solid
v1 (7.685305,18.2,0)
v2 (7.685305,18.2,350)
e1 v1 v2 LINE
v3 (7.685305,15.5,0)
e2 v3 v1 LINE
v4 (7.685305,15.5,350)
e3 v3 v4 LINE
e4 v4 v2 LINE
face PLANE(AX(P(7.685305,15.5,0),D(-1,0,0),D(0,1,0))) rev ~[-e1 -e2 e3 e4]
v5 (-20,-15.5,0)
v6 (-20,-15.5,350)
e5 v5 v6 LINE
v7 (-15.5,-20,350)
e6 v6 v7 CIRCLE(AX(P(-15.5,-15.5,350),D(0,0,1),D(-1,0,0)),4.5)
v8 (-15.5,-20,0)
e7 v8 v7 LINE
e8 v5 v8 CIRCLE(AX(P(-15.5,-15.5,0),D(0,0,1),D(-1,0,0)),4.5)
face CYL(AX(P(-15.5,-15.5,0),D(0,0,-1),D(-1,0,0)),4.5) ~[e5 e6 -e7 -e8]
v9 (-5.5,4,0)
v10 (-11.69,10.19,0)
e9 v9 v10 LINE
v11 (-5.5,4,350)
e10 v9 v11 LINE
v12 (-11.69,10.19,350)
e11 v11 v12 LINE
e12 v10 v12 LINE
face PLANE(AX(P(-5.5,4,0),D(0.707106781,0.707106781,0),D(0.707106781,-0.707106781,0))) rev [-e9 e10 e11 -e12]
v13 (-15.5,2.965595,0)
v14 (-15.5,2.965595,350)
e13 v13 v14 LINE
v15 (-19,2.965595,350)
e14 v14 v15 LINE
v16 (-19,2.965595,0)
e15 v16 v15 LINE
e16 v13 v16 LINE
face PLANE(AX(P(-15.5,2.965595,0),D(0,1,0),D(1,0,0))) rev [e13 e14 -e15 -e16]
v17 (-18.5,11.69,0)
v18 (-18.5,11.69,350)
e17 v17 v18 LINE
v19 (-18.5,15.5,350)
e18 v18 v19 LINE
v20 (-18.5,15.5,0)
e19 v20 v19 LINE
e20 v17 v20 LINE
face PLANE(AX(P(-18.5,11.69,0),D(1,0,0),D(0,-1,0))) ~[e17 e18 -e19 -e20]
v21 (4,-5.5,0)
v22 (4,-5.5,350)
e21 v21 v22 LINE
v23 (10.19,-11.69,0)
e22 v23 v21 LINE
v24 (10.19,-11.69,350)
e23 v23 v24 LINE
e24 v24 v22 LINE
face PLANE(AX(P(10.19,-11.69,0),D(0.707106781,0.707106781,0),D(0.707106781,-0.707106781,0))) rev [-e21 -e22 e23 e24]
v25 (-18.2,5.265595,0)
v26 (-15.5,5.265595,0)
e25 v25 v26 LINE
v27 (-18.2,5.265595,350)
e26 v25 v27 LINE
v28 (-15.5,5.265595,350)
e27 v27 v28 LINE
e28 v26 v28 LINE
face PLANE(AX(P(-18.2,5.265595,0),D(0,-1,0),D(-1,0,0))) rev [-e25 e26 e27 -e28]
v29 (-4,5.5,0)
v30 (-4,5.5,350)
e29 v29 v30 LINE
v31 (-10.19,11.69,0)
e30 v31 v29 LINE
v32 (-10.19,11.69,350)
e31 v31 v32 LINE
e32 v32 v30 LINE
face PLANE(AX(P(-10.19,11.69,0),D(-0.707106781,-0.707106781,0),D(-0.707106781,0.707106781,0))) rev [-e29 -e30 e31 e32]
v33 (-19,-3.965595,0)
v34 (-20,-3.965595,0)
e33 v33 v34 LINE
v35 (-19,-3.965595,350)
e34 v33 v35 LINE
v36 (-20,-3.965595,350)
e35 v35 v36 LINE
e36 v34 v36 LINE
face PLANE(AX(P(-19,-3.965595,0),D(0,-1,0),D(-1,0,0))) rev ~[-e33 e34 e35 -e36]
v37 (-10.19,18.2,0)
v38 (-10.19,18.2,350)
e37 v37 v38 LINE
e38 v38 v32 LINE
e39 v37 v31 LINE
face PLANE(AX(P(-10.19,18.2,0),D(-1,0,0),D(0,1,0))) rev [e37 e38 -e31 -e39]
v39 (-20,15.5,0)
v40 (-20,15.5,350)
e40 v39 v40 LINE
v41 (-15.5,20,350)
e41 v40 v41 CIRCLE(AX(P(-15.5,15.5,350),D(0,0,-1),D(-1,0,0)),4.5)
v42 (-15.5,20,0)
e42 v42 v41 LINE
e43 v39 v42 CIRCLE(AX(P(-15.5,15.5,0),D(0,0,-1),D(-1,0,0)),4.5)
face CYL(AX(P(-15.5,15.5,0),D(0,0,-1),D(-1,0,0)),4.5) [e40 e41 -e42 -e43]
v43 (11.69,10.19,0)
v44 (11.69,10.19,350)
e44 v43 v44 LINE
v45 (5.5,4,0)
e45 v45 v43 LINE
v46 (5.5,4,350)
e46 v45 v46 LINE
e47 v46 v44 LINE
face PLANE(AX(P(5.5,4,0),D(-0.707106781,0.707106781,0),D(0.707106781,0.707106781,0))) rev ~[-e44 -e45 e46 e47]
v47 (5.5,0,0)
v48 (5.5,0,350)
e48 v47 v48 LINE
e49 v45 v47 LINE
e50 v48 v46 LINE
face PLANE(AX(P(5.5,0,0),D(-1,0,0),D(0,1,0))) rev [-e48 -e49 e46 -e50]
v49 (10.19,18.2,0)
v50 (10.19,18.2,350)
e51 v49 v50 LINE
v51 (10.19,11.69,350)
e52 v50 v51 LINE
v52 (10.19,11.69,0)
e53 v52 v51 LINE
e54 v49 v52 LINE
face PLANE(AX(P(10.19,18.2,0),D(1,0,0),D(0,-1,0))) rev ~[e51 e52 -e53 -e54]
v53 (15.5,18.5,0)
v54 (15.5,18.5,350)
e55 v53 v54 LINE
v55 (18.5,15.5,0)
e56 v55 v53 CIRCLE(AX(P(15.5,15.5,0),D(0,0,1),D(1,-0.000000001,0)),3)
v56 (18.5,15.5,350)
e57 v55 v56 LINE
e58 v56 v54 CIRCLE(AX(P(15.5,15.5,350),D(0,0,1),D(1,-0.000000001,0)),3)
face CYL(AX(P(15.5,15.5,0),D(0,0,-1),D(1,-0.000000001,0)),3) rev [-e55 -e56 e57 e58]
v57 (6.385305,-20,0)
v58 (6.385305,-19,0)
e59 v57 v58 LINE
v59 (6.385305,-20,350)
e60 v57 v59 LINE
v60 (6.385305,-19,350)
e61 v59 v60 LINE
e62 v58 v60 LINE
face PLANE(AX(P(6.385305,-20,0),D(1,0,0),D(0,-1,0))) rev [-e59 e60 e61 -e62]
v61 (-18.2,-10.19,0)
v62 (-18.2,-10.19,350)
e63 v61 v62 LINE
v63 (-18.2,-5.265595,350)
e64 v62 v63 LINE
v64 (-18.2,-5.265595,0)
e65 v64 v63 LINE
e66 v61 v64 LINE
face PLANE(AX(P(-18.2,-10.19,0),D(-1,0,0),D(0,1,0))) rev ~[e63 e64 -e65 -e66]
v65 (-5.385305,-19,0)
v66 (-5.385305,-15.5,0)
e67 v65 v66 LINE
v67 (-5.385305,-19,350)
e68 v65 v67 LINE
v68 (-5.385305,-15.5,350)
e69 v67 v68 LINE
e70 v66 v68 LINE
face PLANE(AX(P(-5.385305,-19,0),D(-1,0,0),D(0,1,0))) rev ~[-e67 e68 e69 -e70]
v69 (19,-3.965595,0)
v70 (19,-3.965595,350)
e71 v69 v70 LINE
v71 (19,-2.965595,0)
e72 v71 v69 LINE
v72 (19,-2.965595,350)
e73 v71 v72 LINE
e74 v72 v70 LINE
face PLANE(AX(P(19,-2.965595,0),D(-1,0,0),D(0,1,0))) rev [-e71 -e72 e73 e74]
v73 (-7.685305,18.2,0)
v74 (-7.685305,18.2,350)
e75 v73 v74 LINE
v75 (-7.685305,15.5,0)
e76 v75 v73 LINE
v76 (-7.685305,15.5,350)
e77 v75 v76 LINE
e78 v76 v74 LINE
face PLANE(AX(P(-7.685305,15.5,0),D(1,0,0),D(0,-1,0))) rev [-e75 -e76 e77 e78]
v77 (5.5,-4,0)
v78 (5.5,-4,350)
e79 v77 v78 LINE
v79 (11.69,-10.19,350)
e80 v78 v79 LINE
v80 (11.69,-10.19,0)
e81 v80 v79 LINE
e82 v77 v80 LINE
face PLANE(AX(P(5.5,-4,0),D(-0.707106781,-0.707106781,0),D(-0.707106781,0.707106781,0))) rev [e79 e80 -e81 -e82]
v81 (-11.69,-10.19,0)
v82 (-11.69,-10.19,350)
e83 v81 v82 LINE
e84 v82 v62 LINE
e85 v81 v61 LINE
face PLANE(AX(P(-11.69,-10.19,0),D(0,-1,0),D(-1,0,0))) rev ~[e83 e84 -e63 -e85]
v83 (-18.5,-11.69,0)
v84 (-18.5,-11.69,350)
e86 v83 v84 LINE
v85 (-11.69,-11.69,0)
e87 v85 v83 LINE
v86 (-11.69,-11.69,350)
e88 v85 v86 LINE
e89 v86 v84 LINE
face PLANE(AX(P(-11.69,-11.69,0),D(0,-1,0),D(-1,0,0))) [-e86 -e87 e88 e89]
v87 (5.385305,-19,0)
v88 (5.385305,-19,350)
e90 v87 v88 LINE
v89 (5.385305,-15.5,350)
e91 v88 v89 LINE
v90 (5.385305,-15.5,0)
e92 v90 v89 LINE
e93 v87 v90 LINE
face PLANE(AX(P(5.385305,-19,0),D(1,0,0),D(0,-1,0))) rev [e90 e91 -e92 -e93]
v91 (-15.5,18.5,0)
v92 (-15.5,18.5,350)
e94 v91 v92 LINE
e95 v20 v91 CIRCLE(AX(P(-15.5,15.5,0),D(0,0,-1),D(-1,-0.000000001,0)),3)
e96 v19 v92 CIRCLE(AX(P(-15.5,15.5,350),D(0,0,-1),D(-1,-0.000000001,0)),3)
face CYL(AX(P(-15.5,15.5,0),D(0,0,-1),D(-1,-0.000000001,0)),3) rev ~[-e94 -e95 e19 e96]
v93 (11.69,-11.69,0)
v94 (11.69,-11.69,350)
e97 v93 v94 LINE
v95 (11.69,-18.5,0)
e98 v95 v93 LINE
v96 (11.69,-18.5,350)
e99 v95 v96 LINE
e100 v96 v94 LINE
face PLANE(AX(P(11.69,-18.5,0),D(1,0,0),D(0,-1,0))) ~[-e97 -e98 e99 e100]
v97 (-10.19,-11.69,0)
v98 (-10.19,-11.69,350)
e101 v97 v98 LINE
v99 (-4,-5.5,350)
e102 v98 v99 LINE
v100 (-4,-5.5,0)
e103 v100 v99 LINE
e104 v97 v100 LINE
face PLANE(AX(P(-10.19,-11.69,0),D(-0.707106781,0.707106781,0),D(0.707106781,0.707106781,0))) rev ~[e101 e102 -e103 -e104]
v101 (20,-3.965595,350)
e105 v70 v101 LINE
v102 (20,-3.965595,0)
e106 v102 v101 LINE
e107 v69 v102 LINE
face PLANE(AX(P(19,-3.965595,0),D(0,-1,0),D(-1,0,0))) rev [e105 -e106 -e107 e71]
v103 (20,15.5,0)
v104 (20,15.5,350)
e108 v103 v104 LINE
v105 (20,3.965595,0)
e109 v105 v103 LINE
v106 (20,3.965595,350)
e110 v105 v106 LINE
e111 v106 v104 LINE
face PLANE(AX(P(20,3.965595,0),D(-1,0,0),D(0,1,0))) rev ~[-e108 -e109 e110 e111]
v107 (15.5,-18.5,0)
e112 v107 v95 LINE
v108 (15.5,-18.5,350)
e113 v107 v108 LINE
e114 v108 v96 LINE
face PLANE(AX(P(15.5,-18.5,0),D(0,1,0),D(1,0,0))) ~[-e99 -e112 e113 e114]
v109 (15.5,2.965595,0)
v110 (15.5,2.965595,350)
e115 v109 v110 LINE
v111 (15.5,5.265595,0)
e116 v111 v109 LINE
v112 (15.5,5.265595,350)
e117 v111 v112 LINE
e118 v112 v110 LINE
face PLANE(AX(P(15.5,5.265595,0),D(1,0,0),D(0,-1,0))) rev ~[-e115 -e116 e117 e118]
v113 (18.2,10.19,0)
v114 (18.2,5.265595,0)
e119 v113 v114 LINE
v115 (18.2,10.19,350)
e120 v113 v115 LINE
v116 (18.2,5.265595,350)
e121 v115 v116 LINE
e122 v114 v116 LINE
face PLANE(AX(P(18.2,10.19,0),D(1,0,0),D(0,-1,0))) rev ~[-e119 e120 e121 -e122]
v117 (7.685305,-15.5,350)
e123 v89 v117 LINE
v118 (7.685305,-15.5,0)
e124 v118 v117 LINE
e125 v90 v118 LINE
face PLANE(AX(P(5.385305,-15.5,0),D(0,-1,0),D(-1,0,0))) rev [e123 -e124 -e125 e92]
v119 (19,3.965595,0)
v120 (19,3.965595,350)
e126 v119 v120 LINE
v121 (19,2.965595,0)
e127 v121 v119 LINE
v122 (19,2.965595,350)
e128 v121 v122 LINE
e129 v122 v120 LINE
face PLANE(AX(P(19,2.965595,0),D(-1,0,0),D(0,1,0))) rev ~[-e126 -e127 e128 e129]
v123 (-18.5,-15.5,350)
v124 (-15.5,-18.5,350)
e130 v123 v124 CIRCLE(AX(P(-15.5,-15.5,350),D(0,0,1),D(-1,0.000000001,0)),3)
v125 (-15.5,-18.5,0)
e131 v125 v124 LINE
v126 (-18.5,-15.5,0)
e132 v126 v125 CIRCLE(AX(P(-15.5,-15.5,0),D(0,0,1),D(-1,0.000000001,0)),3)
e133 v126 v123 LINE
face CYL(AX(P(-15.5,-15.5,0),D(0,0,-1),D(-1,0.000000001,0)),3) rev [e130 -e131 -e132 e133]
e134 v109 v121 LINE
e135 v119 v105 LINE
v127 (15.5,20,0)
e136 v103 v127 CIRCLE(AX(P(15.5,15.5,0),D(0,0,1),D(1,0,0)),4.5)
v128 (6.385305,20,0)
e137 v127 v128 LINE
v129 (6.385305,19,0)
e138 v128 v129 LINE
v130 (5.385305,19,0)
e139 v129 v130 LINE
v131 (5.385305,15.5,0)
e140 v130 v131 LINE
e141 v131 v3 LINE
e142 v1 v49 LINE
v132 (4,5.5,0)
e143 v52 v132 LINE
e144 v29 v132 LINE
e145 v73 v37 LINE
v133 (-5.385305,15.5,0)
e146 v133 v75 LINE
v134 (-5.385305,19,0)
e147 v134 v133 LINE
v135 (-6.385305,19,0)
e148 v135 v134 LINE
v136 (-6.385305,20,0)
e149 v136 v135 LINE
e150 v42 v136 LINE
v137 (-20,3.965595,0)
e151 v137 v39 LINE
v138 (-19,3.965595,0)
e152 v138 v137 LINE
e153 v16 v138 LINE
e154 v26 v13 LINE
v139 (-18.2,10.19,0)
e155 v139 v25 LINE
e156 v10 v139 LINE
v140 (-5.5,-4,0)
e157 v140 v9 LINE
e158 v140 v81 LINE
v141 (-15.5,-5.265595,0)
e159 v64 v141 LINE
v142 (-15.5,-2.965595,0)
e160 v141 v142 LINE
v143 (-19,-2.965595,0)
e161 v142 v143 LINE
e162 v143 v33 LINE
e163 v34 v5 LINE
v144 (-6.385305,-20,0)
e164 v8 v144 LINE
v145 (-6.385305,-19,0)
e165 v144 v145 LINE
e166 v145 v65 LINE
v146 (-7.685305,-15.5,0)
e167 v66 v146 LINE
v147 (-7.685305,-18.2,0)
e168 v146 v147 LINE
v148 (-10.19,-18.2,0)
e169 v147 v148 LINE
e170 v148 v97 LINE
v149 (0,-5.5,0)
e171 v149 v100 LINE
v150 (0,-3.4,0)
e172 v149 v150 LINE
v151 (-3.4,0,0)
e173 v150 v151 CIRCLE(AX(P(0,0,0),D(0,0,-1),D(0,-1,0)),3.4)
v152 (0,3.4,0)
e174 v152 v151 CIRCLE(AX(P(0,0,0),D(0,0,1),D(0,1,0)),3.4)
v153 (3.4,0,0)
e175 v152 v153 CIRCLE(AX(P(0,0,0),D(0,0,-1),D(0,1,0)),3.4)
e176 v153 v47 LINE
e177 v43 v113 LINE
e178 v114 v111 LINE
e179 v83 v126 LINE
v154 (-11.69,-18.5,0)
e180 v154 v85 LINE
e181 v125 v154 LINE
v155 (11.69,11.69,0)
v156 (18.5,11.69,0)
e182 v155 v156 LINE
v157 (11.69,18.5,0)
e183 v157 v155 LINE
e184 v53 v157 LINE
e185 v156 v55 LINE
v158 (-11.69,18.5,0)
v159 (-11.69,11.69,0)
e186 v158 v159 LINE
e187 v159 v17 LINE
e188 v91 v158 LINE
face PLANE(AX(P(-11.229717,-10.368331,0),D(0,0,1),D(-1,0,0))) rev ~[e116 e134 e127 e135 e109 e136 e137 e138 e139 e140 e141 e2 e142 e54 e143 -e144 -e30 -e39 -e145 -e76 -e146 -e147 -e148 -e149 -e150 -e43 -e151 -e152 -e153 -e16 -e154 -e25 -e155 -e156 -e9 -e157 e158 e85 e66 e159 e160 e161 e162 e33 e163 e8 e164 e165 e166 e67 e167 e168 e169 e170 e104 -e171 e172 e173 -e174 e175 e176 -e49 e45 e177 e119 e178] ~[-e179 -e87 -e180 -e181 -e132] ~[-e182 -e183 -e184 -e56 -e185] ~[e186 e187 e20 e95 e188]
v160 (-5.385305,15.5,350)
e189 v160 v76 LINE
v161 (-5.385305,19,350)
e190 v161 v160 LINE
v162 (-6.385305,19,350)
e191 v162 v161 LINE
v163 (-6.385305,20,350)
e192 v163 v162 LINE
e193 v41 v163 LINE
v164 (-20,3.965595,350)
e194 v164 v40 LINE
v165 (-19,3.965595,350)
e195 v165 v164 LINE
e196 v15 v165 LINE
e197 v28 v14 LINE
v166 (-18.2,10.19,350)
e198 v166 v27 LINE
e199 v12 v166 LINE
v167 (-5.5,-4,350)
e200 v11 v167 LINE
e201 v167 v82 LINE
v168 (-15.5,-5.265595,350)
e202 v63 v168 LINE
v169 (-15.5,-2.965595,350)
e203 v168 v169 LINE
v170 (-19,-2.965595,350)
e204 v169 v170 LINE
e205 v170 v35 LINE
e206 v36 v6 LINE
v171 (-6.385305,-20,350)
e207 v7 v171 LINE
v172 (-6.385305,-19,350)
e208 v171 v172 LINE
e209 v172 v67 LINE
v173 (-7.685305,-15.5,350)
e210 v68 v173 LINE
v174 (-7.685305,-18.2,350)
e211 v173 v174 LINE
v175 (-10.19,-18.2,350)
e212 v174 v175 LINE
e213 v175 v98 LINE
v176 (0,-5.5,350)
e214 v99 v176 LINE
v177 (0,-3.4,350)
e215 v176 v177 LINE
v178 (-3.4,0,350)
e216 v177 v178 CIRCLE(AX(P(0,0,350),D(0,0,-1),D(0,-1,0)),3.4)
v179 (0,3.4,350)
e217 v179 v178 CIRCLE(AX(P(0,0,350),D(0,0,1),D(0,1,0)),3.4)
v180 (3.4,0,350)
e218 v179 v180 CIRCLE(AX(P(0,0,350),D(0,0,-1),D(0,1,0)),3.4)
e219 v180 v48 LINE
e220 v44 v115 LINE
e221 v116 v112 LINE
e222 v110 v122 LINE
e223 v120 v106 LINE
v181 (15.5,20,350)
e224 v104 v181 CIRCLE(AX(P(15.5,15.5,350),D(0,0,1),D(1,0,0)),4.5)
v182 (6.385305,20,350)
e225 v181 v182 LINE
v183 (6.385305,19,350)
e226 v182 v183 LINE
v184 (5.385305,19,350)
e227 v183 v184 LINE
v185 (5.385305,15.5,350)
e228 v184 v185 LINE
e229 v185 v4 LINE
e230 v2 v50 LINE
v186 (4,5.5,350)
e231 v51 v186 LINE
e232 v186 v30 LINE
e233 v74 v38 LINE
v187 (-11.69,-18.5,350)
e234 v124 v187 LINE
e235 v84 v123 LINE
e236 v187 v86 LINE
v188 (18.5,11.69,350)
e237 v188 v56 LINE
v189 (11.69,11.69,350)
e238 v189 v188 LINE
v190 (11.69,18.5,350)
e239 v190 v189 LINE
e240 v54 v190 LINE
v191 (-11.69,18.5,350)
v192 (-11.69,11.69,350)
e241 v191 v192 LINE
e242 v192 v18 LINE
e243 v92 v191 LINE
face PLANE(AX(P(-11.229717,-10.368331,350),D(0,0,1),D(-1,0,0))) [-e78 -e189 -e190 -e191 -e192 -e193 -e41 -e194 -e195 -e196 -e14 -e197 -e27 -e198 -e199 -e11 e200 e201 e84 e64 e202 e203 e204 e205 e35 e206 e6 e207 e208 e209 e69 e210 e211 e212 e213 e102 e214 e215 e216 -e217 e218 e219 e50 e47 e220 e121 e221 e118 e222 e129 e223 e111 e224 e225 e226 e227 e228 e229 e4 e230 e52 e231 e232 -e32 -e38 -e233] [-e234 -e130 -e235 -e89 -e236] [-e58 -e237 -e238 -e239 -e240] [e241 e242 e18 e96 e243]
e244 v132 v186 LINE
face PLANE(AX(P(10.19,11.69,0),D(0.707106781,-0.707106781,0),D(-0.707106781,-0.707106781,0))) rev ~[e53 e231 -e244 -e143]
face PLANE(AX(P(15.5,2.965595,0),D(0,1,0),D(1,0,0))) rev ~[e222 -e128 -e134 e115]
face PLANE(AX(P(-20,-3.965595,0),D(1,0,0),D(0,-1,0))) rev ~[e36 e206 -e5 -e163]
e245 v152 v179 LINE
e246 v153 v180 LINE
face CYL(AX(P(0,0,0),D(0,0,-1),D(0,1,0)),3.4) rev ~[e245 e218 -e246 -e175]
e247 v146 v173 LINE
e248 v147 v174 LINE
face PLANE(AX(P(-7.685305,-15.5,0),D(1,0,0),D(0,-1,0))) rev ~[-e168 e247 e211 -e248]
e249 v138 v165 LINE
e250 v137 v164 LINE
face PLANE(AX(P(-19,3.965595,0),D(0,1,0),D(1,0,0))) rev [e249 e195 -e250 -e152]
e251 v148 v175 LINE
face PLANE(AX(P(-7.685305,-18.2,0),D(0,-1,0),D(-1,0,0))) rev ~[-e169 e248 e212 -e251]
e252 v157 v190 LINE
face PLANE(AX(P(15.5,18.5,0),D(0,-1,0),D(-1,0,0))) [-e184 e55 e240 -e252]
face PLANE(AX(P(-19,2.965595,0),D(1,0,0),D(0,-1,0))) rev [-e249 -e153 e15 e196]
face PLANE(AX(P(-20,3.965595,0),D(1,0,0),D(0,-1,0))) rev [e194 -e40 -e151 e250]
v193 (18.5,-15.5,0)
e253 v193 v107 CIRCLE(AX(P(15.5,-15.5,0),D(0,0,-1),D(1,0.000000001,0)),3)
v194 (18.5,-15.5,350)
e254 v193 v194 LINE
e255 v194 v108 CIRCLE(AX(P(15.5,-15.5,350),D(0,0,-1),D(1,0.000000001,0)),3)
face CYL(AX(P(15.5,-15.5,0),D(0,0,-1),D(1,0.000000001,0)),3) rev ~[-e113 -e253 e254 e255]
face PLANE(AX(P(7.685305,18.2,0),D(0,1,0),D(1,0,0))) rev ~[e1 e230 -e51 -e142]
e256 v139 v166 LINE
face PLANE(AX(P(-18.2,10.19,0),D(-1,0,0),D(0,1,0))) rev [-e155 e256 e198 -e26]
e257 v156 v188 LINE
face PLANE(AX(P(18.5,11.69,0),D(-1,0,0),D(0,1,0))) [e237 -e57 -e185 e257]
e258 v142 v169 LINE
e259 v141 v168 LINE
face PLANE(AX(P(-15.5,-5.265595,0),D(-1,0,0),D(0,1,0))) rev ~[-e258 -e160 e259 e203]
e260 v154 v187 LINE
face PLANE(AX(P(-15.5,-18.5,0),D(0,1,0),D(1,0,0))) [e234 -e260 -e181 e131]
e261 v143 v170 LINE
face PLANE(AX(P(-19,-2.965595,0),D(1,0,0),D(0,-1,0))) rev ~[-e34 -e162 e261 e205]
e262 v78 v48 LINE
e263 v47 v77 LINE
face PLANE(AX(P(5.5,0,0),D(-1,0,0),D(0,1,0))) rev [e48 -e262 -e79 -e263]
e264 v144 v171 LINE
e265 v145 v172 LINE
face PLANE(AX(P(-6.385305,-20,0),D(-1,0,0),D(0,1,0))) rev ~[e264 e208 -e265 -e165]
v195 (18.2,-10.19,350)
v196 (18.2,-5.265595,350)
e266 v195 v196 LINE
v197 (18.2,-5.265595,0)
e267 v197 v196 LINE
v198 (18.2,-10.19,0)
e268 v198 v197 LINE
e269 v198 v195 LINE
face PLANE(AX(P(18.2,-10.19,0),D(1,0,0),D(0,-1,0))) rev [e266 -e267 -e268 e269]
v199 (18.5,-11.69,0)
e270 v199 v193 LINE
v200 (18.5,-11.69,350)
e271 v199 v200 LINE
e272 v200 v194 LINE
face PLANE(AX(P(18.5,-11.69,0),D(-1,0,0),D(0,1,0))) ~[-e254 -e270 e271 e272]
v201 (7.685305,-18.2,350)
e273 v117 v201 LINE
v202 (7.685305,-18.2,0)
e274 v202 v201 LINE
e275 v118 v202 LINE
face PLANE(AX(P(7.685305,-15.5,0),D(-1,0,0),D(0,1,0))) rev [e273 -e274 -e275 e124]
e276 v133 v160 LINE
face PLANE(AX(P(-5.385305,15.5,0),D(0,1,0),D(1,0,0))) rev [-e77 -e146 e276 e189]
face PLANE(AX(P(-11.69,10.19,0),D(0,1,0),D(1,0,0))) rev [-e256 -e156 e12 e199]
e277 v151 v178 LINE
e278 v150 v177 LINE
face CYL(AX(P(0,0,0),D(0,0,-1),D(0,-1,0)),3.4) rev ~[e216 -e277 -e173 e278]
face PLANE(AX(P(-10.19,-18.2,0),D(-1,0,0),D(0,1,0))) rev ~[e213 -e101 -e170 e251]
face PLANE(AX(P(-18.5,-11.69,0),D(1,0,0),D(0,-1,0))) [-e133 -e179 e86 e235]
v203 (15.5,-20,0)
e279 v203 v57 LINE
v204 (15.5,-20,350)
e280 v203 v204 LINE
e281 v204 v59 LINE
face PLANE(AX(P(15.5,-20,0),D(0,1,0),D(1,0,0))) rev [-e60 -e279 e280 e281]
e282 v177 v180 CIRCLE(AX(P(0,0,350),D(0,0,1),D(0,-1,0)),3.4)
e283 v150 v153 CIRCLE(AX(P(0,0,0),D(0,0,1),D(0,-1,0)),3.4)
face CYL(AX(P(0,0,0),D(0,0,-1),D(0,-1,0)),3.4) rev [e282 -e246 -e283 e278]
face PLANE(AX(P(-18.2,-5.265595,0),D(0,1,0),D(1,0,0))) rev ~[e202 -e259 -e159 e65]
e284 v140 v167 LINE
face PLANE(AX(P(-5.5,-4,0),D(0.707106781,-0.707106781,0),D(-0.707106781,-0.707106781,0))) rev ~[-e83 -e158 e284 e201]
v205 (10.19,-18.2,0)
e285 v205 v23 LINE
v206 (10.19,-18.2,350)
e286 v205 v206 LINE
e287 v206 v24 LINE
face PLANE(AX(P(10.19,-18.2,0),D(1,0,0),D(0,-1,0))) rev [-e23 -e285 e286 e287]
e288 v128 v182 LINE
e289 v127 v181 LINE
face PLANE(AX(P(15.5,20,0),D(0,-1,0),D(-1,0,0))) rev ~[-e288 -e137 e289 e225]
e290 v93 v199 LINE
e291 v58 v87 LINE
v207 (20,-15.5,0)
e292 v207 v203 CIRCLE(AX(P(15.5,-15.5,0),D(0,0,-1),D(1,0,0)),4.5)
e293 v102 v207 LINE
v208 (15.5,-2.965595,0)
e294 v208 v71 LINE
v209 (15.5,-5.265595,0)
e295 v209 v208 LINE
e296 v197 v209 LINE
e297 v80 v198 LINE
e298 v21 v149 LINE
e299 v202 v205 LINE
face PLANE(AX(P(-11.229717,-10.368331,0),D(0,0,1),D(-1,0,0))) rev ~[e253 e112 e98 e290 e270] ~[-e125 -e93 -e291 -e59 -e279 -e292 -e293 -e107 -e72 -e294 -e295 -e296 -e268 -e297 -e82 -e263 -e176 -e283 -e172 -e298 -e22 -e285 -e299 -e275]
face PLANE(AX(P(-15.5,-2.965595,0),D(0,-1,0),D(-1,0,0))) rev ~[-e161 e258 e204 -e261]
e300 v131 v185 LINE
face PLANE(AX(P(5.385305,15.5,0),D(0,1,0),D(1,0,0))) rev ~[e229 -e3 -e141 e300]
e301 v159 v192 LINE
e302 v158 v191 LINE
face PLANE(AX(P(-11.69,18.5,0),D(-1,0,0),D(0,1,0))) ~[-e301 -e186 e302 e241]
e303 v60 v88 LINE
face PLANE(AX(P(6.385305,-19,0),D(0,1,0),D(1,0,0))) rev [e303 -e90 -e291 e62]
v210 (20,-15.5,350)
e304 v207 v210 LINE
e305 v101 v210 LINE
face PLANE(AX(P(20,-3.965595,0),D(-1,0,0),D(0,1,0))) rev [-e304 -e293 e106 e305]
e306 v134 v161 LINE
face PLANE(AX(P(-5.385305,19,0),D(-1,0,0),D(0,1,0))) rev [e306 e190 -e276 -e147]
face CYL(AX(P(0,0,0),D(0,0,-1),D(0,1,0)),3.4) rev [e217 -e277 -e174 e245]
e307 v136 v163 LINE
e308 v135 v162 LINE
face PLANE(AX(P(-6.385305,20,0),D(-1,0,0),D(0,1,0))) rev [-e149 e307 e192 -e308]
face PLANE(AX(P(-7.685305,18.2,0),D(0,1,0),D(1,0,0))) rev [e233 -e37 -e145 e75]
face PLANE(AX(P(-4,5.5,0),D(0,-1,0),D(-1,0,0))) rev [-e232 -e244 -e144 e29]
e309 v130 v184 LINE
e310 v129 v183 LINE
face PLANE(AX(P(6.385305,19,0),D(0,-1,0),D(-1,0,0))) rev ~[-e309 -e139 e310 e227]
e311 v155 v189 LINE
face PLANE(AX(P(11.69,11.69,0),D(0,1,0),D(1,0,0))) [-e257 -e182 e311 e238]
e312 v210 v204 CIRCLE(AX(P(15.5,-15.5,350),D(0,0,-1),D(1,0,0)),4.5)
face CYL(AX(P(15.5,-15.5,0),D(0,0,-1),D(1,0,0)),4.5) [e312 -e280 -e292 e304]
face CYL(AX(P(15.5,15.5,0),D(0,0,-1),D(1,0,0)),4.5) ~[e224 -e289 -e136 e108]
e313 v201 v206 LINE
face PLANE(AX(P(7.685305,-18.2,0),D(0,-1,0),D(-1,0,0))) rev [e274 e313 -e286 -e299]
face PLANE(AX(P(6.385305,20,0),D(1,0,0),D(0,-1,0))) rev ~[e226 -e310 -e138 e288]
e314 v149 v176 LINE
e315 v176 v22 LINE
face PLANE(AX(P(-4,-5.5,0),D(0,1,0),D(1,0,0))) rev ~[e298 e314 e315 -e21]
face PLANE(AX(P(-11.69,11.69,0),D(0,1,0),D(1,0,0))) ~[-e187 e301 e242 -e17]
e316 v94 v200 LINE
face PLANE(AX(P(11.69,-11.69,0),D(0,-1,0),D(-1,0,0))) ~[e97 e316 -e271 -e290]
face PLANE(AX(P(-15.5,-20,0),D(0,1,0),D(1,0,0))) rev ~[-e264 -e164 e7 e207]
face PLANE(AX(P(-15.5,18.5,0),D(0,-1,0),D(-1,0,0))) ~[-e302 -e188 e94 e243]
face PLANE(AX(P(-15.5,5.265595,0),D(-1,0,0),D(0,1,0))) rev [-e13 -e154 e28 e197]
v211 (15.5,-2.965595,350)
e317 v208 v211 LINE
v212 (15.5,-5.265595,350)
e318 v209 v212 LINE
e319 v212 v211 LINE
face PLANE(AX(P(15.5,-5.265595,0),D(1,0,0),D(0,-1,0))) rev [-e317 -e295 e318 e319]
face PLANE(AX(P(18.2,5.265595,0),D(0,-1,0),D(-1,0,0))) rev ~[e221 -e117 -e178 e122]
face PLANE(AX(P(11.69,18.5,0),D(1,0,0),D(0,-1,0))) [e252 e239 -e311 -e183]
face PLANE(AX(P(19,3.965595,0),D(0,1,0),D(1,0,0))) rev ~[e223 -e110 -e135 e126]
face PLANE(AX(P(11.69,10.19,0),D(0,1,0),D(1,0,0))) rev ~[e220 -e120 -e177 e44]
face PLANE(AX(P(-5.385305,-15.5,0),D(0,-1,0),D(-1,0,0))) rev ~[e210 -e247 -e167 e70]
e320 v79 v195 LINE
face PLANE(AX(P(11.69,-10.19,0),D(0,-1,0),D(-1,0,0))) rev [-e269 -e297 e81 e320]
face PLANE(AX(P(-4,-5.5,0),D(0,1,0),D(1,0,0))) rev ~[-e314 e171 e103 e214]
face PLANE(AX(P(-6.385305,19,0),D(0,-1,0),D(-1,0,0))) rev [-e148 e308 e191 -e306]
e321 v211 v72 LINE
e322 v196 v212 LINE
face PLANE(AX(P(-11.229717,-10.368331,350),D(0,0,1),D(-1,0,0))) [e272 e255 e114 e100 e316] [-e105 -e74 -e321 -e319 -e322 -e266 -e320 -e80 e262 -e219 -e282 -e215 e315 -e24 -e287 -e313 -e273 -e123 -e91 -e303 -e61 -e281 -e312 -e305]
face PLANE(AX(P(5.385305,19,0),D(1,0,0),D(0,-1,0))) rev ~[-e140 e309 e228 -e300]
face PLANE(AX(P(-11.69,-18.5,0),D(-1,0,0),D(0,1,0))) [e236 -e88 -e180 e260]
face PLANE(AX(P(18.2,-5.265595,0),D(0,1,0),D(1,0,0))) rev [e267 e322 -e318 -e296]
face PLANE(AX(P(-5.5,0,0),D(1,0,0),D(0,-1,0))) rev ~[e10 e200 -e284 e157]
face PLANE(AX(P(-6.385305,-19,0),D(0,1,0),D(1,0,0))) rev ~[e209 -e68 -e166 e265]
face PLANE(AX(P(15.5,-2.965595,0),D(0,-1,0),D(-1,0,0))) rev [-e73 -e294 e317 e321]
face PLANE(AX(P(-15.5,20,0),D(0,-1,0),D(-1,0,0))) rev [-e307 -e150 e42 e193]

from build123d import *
from build123d.topology import SkipClean

# Parameters (mm, degrees)
BOSS_EXTRUDE1_DEPTH  = 350
MIRROR3_COPY_1_DEPTH = 350
MIRROR3_COPY_2_DEPTH = 350


with BuildPart() as part:
    # Sketch1 → Boss-Extrude1 (new body)
    with BuildSketch(Plane.XY):
        with BuildLine():
            Line((3.4, 0), (5.5, 0))
            Line((5.5, 0), (5.5, 4))
            Line((5.5, 4), (11.69, 10.19))
            Line((11.69, 10.19), (18.2, 10.19))
            Line((18.2, 10.19), (18.2, 5.265595036))
            Line((18.2, 5.265595036), (15.5, 5.265595036))
            Line((15.5, 5.265595036), (15.5, 2.965595036))
            Line((15.5, 2.965595036), (19, 2.965595036))
            Line((19, 2.965595036), (19, 3.965595036))
            Line((19, 3.965595036), (20, 3.965595036))
            Line((20, 3.965595036), (20, 15.5))
            ThreePointArc((20, 15.5), (18.681980515, 18.681980515), (15.5, 20))
            Line((15.5, 20), (6.385304712, 20))
            Line((6.385304712, 20), (6.385304712, 19))
            Line((6.385304712, 19), (5.385304712, 19))
            Line((5.385304712, 19), (5.385304712, 15.5))
            Line((5.385304712, 15.5), (7.685304712, 15.5))
            Line((7.685304712, 15.5), (7.685304712, 18.2))
            Line((7.685304712, 18.2), (10.19, 18.2))
            Line((10.19, 18.2), (10.19, 11.69))
            Line((10.19, 11.69), (4, 5.5))
            Line((4, 5.5), (0, 5.5))
            Line((0, 5.5), (0, 3.4))
            ThreePointArc((0, 3.4), (2.404163056, 2.404163056), (3.4, 0))
        make_face()
        with BuildLine():
            Line((18.5, 11.69), (18.5, 15.5))
            ThreePointArc((18.5, 15.5), (17.621320344, 17.621320344), (15.5, 18.5))
            Line((15.5, 18.5), (11.69, 18.5))
            Line((11.69, 18.5), (11.69, 11.69))
            Line((11.69, 11.69), (18.5, 11.69))
        make_face(mode=Mode.SUBTRACT)
    boss_extrude1 = extrude(amount=BOSS_EXTRUDE1_DEPTH)

    # Mirror1: Boss-Extrude1 across plane
    add(boss_extrude1.mirror(Plane.ZX))

    # Mirror2: Boss-Extrude1 across plane
    add(boss_extrude1.mirror(Plane(origin=(0, 0, 0), x_dir=(0, 0, 1), z_dir=(1, 0, 0))))

    # Mirror3 copy 1 sketch → Mirror3 copy 1 (add)
    with BuildSketch(Plane(origin=(0, 0, 0), x_dir=(-1, 0, 0), z_dir=(0, 0, 1))):
        with BuildLine():
            Line((3.4, 0), (5.5, 0))
            Line((5.5, 0), (5.5, 4))
            Line((5.5, 4), (11.69, 10.19))
            Line((11.69, 10.19), (18.2, 10.19))
            Line((18.2, 10.19), (18.2, 5.265595036))
            Line((18.2, 5.265595036), (15.5, 5.265595036))
            Line((15.5, 5.265595036), (15.5, 2.965595036))
            Line((15.5, 2.965595036), (19, 2.965595036))
            Line((19, 2.965595036), (19, 3.965595036))
            Line((19, 3.965595036), (20, 3.965595036))
            Line((20, 3.965595036), (20, 15.5))
            ThreePointArc((20, 15.5), (18.681980515, 18.681980515), (15.5, 20))
            Line((15.5, 20), (6.385304712, 20))
            Line((6.385304712, 20), (6.385304712, 19))
            Line((6.385304712, 19), (5.385304712, 19))
            Line((5.385304712, 19), (5.385304712, 15.5))
            Line((5.385304712, 15.5), (7.685304712, 15.5))
            Line((7.685304712, 15.5), (7.685304712, 18.2))
            Line((7.685304712, 18.2), (10.19, 18.2))
            Line((10.19, 18.2), (10.19, 11.69))
            Line((10.19, 11.69), (4, 5.5))
            Line((4, 5.5), (0, 5.5))
            Line((0, 5.5), (0, 3.4))
            ThreePointArc((0, 3.4), (2.404163056, 2.404163056), (3.4, 0))
        make_face()
        with BuildLine():
            Line((18.5, 11.69), (18.5, 15.5))
            ThreePointArc((18.5, 15.5), (17.621320344, 17.621320344), (15.5, 18.5))
            Line((15.5, 18.5), (11.69, 18.5))
            Line((11.69, 18.5), (11.69, 11.69))
            Line((11.69, 11.69), (18.5, 11.69))
        make_face(mode=Mode.SUBTRACT)
    extrude(amount=MIRROR3_COPY_1_DEPTH)

    # Mirror3 copy 2 sketch → Mirror3 copy 2 (add)
    with SkipClean():  # the faces are left unmerged after this step: merging them gives an invalid solid
        with BuildSketch(Plane.XY):
            with BuildLine():
                Line((3.4, 0), (5.5, 0))
                Line((5.5, 0), (5.5, -4))
                Line((5.5, -4), (11.69, -10.19))
                Line((11.69, -10.19), (18.2, -10.19))
                Line((18.2, -10.19), (18.2, -5.265595036))
                Line((18.2, -5.265595036), (15.5, -5.265595036))
                Line((15.5, -5.265595036), (15.5, -2.965595036))
                Line((15.5, -2.965595036), (19, -2.965595036))
                Line((19, -2.965595036), (19, -3.965595036))
                Line((19, -3.965595036), (20, -3.965595036))
                Line((20, -3.965595036), (20, -15.5))
                ThreePointArc((20, -15.5), (18.681980515, -18.681980515), (15.5, -20))
                Line((15.5, -20), (6.385304712, -20))
                Line((6.385304712, -20), (6.385304712, -19))
                Line((6.385304712, -19), (5.385304712, -19))
                Line((5.385304712, -19), (5.385304712, -15.5))
                Line((5.385304712, -15.5), (7.685304712, -15.5))
                Line((7.685304712, -15.5), (7.685304712, -18.2))
                Line((7.685304712, -18.2), (10.19, -18.2))
                Line((10.19, -18.2), (10.19, -11.69))
                Line((10.19, -11.69), (4, -5.5))
                Line((4, -5.5), (0, -5.5))
                Line((0, -5.5), (0, -3.4))
                ThreePointArc((0, -3.4), (2.404163056, -2.404163056), (3.4, 0))
            make_face()
            with BuildLine():
                Line((18.5, -11.69), (18.5, -15.5))
                ThreePointArc((18.5, -15.5), (17.621320344, -17.621320344), (15.5, -18.5))
                Line((15.5, -18.5), (11.69, -18.5))
                Line((11.69, -18.5), (11.69, -11.69))
                Line((11.69, -11.69), (18.5, -11.69))
            make_face(mode=Mode.SUBTRACT)
        extrude(amount=MIRROR3_COPY_2_DEPTH)


solid = part.part
